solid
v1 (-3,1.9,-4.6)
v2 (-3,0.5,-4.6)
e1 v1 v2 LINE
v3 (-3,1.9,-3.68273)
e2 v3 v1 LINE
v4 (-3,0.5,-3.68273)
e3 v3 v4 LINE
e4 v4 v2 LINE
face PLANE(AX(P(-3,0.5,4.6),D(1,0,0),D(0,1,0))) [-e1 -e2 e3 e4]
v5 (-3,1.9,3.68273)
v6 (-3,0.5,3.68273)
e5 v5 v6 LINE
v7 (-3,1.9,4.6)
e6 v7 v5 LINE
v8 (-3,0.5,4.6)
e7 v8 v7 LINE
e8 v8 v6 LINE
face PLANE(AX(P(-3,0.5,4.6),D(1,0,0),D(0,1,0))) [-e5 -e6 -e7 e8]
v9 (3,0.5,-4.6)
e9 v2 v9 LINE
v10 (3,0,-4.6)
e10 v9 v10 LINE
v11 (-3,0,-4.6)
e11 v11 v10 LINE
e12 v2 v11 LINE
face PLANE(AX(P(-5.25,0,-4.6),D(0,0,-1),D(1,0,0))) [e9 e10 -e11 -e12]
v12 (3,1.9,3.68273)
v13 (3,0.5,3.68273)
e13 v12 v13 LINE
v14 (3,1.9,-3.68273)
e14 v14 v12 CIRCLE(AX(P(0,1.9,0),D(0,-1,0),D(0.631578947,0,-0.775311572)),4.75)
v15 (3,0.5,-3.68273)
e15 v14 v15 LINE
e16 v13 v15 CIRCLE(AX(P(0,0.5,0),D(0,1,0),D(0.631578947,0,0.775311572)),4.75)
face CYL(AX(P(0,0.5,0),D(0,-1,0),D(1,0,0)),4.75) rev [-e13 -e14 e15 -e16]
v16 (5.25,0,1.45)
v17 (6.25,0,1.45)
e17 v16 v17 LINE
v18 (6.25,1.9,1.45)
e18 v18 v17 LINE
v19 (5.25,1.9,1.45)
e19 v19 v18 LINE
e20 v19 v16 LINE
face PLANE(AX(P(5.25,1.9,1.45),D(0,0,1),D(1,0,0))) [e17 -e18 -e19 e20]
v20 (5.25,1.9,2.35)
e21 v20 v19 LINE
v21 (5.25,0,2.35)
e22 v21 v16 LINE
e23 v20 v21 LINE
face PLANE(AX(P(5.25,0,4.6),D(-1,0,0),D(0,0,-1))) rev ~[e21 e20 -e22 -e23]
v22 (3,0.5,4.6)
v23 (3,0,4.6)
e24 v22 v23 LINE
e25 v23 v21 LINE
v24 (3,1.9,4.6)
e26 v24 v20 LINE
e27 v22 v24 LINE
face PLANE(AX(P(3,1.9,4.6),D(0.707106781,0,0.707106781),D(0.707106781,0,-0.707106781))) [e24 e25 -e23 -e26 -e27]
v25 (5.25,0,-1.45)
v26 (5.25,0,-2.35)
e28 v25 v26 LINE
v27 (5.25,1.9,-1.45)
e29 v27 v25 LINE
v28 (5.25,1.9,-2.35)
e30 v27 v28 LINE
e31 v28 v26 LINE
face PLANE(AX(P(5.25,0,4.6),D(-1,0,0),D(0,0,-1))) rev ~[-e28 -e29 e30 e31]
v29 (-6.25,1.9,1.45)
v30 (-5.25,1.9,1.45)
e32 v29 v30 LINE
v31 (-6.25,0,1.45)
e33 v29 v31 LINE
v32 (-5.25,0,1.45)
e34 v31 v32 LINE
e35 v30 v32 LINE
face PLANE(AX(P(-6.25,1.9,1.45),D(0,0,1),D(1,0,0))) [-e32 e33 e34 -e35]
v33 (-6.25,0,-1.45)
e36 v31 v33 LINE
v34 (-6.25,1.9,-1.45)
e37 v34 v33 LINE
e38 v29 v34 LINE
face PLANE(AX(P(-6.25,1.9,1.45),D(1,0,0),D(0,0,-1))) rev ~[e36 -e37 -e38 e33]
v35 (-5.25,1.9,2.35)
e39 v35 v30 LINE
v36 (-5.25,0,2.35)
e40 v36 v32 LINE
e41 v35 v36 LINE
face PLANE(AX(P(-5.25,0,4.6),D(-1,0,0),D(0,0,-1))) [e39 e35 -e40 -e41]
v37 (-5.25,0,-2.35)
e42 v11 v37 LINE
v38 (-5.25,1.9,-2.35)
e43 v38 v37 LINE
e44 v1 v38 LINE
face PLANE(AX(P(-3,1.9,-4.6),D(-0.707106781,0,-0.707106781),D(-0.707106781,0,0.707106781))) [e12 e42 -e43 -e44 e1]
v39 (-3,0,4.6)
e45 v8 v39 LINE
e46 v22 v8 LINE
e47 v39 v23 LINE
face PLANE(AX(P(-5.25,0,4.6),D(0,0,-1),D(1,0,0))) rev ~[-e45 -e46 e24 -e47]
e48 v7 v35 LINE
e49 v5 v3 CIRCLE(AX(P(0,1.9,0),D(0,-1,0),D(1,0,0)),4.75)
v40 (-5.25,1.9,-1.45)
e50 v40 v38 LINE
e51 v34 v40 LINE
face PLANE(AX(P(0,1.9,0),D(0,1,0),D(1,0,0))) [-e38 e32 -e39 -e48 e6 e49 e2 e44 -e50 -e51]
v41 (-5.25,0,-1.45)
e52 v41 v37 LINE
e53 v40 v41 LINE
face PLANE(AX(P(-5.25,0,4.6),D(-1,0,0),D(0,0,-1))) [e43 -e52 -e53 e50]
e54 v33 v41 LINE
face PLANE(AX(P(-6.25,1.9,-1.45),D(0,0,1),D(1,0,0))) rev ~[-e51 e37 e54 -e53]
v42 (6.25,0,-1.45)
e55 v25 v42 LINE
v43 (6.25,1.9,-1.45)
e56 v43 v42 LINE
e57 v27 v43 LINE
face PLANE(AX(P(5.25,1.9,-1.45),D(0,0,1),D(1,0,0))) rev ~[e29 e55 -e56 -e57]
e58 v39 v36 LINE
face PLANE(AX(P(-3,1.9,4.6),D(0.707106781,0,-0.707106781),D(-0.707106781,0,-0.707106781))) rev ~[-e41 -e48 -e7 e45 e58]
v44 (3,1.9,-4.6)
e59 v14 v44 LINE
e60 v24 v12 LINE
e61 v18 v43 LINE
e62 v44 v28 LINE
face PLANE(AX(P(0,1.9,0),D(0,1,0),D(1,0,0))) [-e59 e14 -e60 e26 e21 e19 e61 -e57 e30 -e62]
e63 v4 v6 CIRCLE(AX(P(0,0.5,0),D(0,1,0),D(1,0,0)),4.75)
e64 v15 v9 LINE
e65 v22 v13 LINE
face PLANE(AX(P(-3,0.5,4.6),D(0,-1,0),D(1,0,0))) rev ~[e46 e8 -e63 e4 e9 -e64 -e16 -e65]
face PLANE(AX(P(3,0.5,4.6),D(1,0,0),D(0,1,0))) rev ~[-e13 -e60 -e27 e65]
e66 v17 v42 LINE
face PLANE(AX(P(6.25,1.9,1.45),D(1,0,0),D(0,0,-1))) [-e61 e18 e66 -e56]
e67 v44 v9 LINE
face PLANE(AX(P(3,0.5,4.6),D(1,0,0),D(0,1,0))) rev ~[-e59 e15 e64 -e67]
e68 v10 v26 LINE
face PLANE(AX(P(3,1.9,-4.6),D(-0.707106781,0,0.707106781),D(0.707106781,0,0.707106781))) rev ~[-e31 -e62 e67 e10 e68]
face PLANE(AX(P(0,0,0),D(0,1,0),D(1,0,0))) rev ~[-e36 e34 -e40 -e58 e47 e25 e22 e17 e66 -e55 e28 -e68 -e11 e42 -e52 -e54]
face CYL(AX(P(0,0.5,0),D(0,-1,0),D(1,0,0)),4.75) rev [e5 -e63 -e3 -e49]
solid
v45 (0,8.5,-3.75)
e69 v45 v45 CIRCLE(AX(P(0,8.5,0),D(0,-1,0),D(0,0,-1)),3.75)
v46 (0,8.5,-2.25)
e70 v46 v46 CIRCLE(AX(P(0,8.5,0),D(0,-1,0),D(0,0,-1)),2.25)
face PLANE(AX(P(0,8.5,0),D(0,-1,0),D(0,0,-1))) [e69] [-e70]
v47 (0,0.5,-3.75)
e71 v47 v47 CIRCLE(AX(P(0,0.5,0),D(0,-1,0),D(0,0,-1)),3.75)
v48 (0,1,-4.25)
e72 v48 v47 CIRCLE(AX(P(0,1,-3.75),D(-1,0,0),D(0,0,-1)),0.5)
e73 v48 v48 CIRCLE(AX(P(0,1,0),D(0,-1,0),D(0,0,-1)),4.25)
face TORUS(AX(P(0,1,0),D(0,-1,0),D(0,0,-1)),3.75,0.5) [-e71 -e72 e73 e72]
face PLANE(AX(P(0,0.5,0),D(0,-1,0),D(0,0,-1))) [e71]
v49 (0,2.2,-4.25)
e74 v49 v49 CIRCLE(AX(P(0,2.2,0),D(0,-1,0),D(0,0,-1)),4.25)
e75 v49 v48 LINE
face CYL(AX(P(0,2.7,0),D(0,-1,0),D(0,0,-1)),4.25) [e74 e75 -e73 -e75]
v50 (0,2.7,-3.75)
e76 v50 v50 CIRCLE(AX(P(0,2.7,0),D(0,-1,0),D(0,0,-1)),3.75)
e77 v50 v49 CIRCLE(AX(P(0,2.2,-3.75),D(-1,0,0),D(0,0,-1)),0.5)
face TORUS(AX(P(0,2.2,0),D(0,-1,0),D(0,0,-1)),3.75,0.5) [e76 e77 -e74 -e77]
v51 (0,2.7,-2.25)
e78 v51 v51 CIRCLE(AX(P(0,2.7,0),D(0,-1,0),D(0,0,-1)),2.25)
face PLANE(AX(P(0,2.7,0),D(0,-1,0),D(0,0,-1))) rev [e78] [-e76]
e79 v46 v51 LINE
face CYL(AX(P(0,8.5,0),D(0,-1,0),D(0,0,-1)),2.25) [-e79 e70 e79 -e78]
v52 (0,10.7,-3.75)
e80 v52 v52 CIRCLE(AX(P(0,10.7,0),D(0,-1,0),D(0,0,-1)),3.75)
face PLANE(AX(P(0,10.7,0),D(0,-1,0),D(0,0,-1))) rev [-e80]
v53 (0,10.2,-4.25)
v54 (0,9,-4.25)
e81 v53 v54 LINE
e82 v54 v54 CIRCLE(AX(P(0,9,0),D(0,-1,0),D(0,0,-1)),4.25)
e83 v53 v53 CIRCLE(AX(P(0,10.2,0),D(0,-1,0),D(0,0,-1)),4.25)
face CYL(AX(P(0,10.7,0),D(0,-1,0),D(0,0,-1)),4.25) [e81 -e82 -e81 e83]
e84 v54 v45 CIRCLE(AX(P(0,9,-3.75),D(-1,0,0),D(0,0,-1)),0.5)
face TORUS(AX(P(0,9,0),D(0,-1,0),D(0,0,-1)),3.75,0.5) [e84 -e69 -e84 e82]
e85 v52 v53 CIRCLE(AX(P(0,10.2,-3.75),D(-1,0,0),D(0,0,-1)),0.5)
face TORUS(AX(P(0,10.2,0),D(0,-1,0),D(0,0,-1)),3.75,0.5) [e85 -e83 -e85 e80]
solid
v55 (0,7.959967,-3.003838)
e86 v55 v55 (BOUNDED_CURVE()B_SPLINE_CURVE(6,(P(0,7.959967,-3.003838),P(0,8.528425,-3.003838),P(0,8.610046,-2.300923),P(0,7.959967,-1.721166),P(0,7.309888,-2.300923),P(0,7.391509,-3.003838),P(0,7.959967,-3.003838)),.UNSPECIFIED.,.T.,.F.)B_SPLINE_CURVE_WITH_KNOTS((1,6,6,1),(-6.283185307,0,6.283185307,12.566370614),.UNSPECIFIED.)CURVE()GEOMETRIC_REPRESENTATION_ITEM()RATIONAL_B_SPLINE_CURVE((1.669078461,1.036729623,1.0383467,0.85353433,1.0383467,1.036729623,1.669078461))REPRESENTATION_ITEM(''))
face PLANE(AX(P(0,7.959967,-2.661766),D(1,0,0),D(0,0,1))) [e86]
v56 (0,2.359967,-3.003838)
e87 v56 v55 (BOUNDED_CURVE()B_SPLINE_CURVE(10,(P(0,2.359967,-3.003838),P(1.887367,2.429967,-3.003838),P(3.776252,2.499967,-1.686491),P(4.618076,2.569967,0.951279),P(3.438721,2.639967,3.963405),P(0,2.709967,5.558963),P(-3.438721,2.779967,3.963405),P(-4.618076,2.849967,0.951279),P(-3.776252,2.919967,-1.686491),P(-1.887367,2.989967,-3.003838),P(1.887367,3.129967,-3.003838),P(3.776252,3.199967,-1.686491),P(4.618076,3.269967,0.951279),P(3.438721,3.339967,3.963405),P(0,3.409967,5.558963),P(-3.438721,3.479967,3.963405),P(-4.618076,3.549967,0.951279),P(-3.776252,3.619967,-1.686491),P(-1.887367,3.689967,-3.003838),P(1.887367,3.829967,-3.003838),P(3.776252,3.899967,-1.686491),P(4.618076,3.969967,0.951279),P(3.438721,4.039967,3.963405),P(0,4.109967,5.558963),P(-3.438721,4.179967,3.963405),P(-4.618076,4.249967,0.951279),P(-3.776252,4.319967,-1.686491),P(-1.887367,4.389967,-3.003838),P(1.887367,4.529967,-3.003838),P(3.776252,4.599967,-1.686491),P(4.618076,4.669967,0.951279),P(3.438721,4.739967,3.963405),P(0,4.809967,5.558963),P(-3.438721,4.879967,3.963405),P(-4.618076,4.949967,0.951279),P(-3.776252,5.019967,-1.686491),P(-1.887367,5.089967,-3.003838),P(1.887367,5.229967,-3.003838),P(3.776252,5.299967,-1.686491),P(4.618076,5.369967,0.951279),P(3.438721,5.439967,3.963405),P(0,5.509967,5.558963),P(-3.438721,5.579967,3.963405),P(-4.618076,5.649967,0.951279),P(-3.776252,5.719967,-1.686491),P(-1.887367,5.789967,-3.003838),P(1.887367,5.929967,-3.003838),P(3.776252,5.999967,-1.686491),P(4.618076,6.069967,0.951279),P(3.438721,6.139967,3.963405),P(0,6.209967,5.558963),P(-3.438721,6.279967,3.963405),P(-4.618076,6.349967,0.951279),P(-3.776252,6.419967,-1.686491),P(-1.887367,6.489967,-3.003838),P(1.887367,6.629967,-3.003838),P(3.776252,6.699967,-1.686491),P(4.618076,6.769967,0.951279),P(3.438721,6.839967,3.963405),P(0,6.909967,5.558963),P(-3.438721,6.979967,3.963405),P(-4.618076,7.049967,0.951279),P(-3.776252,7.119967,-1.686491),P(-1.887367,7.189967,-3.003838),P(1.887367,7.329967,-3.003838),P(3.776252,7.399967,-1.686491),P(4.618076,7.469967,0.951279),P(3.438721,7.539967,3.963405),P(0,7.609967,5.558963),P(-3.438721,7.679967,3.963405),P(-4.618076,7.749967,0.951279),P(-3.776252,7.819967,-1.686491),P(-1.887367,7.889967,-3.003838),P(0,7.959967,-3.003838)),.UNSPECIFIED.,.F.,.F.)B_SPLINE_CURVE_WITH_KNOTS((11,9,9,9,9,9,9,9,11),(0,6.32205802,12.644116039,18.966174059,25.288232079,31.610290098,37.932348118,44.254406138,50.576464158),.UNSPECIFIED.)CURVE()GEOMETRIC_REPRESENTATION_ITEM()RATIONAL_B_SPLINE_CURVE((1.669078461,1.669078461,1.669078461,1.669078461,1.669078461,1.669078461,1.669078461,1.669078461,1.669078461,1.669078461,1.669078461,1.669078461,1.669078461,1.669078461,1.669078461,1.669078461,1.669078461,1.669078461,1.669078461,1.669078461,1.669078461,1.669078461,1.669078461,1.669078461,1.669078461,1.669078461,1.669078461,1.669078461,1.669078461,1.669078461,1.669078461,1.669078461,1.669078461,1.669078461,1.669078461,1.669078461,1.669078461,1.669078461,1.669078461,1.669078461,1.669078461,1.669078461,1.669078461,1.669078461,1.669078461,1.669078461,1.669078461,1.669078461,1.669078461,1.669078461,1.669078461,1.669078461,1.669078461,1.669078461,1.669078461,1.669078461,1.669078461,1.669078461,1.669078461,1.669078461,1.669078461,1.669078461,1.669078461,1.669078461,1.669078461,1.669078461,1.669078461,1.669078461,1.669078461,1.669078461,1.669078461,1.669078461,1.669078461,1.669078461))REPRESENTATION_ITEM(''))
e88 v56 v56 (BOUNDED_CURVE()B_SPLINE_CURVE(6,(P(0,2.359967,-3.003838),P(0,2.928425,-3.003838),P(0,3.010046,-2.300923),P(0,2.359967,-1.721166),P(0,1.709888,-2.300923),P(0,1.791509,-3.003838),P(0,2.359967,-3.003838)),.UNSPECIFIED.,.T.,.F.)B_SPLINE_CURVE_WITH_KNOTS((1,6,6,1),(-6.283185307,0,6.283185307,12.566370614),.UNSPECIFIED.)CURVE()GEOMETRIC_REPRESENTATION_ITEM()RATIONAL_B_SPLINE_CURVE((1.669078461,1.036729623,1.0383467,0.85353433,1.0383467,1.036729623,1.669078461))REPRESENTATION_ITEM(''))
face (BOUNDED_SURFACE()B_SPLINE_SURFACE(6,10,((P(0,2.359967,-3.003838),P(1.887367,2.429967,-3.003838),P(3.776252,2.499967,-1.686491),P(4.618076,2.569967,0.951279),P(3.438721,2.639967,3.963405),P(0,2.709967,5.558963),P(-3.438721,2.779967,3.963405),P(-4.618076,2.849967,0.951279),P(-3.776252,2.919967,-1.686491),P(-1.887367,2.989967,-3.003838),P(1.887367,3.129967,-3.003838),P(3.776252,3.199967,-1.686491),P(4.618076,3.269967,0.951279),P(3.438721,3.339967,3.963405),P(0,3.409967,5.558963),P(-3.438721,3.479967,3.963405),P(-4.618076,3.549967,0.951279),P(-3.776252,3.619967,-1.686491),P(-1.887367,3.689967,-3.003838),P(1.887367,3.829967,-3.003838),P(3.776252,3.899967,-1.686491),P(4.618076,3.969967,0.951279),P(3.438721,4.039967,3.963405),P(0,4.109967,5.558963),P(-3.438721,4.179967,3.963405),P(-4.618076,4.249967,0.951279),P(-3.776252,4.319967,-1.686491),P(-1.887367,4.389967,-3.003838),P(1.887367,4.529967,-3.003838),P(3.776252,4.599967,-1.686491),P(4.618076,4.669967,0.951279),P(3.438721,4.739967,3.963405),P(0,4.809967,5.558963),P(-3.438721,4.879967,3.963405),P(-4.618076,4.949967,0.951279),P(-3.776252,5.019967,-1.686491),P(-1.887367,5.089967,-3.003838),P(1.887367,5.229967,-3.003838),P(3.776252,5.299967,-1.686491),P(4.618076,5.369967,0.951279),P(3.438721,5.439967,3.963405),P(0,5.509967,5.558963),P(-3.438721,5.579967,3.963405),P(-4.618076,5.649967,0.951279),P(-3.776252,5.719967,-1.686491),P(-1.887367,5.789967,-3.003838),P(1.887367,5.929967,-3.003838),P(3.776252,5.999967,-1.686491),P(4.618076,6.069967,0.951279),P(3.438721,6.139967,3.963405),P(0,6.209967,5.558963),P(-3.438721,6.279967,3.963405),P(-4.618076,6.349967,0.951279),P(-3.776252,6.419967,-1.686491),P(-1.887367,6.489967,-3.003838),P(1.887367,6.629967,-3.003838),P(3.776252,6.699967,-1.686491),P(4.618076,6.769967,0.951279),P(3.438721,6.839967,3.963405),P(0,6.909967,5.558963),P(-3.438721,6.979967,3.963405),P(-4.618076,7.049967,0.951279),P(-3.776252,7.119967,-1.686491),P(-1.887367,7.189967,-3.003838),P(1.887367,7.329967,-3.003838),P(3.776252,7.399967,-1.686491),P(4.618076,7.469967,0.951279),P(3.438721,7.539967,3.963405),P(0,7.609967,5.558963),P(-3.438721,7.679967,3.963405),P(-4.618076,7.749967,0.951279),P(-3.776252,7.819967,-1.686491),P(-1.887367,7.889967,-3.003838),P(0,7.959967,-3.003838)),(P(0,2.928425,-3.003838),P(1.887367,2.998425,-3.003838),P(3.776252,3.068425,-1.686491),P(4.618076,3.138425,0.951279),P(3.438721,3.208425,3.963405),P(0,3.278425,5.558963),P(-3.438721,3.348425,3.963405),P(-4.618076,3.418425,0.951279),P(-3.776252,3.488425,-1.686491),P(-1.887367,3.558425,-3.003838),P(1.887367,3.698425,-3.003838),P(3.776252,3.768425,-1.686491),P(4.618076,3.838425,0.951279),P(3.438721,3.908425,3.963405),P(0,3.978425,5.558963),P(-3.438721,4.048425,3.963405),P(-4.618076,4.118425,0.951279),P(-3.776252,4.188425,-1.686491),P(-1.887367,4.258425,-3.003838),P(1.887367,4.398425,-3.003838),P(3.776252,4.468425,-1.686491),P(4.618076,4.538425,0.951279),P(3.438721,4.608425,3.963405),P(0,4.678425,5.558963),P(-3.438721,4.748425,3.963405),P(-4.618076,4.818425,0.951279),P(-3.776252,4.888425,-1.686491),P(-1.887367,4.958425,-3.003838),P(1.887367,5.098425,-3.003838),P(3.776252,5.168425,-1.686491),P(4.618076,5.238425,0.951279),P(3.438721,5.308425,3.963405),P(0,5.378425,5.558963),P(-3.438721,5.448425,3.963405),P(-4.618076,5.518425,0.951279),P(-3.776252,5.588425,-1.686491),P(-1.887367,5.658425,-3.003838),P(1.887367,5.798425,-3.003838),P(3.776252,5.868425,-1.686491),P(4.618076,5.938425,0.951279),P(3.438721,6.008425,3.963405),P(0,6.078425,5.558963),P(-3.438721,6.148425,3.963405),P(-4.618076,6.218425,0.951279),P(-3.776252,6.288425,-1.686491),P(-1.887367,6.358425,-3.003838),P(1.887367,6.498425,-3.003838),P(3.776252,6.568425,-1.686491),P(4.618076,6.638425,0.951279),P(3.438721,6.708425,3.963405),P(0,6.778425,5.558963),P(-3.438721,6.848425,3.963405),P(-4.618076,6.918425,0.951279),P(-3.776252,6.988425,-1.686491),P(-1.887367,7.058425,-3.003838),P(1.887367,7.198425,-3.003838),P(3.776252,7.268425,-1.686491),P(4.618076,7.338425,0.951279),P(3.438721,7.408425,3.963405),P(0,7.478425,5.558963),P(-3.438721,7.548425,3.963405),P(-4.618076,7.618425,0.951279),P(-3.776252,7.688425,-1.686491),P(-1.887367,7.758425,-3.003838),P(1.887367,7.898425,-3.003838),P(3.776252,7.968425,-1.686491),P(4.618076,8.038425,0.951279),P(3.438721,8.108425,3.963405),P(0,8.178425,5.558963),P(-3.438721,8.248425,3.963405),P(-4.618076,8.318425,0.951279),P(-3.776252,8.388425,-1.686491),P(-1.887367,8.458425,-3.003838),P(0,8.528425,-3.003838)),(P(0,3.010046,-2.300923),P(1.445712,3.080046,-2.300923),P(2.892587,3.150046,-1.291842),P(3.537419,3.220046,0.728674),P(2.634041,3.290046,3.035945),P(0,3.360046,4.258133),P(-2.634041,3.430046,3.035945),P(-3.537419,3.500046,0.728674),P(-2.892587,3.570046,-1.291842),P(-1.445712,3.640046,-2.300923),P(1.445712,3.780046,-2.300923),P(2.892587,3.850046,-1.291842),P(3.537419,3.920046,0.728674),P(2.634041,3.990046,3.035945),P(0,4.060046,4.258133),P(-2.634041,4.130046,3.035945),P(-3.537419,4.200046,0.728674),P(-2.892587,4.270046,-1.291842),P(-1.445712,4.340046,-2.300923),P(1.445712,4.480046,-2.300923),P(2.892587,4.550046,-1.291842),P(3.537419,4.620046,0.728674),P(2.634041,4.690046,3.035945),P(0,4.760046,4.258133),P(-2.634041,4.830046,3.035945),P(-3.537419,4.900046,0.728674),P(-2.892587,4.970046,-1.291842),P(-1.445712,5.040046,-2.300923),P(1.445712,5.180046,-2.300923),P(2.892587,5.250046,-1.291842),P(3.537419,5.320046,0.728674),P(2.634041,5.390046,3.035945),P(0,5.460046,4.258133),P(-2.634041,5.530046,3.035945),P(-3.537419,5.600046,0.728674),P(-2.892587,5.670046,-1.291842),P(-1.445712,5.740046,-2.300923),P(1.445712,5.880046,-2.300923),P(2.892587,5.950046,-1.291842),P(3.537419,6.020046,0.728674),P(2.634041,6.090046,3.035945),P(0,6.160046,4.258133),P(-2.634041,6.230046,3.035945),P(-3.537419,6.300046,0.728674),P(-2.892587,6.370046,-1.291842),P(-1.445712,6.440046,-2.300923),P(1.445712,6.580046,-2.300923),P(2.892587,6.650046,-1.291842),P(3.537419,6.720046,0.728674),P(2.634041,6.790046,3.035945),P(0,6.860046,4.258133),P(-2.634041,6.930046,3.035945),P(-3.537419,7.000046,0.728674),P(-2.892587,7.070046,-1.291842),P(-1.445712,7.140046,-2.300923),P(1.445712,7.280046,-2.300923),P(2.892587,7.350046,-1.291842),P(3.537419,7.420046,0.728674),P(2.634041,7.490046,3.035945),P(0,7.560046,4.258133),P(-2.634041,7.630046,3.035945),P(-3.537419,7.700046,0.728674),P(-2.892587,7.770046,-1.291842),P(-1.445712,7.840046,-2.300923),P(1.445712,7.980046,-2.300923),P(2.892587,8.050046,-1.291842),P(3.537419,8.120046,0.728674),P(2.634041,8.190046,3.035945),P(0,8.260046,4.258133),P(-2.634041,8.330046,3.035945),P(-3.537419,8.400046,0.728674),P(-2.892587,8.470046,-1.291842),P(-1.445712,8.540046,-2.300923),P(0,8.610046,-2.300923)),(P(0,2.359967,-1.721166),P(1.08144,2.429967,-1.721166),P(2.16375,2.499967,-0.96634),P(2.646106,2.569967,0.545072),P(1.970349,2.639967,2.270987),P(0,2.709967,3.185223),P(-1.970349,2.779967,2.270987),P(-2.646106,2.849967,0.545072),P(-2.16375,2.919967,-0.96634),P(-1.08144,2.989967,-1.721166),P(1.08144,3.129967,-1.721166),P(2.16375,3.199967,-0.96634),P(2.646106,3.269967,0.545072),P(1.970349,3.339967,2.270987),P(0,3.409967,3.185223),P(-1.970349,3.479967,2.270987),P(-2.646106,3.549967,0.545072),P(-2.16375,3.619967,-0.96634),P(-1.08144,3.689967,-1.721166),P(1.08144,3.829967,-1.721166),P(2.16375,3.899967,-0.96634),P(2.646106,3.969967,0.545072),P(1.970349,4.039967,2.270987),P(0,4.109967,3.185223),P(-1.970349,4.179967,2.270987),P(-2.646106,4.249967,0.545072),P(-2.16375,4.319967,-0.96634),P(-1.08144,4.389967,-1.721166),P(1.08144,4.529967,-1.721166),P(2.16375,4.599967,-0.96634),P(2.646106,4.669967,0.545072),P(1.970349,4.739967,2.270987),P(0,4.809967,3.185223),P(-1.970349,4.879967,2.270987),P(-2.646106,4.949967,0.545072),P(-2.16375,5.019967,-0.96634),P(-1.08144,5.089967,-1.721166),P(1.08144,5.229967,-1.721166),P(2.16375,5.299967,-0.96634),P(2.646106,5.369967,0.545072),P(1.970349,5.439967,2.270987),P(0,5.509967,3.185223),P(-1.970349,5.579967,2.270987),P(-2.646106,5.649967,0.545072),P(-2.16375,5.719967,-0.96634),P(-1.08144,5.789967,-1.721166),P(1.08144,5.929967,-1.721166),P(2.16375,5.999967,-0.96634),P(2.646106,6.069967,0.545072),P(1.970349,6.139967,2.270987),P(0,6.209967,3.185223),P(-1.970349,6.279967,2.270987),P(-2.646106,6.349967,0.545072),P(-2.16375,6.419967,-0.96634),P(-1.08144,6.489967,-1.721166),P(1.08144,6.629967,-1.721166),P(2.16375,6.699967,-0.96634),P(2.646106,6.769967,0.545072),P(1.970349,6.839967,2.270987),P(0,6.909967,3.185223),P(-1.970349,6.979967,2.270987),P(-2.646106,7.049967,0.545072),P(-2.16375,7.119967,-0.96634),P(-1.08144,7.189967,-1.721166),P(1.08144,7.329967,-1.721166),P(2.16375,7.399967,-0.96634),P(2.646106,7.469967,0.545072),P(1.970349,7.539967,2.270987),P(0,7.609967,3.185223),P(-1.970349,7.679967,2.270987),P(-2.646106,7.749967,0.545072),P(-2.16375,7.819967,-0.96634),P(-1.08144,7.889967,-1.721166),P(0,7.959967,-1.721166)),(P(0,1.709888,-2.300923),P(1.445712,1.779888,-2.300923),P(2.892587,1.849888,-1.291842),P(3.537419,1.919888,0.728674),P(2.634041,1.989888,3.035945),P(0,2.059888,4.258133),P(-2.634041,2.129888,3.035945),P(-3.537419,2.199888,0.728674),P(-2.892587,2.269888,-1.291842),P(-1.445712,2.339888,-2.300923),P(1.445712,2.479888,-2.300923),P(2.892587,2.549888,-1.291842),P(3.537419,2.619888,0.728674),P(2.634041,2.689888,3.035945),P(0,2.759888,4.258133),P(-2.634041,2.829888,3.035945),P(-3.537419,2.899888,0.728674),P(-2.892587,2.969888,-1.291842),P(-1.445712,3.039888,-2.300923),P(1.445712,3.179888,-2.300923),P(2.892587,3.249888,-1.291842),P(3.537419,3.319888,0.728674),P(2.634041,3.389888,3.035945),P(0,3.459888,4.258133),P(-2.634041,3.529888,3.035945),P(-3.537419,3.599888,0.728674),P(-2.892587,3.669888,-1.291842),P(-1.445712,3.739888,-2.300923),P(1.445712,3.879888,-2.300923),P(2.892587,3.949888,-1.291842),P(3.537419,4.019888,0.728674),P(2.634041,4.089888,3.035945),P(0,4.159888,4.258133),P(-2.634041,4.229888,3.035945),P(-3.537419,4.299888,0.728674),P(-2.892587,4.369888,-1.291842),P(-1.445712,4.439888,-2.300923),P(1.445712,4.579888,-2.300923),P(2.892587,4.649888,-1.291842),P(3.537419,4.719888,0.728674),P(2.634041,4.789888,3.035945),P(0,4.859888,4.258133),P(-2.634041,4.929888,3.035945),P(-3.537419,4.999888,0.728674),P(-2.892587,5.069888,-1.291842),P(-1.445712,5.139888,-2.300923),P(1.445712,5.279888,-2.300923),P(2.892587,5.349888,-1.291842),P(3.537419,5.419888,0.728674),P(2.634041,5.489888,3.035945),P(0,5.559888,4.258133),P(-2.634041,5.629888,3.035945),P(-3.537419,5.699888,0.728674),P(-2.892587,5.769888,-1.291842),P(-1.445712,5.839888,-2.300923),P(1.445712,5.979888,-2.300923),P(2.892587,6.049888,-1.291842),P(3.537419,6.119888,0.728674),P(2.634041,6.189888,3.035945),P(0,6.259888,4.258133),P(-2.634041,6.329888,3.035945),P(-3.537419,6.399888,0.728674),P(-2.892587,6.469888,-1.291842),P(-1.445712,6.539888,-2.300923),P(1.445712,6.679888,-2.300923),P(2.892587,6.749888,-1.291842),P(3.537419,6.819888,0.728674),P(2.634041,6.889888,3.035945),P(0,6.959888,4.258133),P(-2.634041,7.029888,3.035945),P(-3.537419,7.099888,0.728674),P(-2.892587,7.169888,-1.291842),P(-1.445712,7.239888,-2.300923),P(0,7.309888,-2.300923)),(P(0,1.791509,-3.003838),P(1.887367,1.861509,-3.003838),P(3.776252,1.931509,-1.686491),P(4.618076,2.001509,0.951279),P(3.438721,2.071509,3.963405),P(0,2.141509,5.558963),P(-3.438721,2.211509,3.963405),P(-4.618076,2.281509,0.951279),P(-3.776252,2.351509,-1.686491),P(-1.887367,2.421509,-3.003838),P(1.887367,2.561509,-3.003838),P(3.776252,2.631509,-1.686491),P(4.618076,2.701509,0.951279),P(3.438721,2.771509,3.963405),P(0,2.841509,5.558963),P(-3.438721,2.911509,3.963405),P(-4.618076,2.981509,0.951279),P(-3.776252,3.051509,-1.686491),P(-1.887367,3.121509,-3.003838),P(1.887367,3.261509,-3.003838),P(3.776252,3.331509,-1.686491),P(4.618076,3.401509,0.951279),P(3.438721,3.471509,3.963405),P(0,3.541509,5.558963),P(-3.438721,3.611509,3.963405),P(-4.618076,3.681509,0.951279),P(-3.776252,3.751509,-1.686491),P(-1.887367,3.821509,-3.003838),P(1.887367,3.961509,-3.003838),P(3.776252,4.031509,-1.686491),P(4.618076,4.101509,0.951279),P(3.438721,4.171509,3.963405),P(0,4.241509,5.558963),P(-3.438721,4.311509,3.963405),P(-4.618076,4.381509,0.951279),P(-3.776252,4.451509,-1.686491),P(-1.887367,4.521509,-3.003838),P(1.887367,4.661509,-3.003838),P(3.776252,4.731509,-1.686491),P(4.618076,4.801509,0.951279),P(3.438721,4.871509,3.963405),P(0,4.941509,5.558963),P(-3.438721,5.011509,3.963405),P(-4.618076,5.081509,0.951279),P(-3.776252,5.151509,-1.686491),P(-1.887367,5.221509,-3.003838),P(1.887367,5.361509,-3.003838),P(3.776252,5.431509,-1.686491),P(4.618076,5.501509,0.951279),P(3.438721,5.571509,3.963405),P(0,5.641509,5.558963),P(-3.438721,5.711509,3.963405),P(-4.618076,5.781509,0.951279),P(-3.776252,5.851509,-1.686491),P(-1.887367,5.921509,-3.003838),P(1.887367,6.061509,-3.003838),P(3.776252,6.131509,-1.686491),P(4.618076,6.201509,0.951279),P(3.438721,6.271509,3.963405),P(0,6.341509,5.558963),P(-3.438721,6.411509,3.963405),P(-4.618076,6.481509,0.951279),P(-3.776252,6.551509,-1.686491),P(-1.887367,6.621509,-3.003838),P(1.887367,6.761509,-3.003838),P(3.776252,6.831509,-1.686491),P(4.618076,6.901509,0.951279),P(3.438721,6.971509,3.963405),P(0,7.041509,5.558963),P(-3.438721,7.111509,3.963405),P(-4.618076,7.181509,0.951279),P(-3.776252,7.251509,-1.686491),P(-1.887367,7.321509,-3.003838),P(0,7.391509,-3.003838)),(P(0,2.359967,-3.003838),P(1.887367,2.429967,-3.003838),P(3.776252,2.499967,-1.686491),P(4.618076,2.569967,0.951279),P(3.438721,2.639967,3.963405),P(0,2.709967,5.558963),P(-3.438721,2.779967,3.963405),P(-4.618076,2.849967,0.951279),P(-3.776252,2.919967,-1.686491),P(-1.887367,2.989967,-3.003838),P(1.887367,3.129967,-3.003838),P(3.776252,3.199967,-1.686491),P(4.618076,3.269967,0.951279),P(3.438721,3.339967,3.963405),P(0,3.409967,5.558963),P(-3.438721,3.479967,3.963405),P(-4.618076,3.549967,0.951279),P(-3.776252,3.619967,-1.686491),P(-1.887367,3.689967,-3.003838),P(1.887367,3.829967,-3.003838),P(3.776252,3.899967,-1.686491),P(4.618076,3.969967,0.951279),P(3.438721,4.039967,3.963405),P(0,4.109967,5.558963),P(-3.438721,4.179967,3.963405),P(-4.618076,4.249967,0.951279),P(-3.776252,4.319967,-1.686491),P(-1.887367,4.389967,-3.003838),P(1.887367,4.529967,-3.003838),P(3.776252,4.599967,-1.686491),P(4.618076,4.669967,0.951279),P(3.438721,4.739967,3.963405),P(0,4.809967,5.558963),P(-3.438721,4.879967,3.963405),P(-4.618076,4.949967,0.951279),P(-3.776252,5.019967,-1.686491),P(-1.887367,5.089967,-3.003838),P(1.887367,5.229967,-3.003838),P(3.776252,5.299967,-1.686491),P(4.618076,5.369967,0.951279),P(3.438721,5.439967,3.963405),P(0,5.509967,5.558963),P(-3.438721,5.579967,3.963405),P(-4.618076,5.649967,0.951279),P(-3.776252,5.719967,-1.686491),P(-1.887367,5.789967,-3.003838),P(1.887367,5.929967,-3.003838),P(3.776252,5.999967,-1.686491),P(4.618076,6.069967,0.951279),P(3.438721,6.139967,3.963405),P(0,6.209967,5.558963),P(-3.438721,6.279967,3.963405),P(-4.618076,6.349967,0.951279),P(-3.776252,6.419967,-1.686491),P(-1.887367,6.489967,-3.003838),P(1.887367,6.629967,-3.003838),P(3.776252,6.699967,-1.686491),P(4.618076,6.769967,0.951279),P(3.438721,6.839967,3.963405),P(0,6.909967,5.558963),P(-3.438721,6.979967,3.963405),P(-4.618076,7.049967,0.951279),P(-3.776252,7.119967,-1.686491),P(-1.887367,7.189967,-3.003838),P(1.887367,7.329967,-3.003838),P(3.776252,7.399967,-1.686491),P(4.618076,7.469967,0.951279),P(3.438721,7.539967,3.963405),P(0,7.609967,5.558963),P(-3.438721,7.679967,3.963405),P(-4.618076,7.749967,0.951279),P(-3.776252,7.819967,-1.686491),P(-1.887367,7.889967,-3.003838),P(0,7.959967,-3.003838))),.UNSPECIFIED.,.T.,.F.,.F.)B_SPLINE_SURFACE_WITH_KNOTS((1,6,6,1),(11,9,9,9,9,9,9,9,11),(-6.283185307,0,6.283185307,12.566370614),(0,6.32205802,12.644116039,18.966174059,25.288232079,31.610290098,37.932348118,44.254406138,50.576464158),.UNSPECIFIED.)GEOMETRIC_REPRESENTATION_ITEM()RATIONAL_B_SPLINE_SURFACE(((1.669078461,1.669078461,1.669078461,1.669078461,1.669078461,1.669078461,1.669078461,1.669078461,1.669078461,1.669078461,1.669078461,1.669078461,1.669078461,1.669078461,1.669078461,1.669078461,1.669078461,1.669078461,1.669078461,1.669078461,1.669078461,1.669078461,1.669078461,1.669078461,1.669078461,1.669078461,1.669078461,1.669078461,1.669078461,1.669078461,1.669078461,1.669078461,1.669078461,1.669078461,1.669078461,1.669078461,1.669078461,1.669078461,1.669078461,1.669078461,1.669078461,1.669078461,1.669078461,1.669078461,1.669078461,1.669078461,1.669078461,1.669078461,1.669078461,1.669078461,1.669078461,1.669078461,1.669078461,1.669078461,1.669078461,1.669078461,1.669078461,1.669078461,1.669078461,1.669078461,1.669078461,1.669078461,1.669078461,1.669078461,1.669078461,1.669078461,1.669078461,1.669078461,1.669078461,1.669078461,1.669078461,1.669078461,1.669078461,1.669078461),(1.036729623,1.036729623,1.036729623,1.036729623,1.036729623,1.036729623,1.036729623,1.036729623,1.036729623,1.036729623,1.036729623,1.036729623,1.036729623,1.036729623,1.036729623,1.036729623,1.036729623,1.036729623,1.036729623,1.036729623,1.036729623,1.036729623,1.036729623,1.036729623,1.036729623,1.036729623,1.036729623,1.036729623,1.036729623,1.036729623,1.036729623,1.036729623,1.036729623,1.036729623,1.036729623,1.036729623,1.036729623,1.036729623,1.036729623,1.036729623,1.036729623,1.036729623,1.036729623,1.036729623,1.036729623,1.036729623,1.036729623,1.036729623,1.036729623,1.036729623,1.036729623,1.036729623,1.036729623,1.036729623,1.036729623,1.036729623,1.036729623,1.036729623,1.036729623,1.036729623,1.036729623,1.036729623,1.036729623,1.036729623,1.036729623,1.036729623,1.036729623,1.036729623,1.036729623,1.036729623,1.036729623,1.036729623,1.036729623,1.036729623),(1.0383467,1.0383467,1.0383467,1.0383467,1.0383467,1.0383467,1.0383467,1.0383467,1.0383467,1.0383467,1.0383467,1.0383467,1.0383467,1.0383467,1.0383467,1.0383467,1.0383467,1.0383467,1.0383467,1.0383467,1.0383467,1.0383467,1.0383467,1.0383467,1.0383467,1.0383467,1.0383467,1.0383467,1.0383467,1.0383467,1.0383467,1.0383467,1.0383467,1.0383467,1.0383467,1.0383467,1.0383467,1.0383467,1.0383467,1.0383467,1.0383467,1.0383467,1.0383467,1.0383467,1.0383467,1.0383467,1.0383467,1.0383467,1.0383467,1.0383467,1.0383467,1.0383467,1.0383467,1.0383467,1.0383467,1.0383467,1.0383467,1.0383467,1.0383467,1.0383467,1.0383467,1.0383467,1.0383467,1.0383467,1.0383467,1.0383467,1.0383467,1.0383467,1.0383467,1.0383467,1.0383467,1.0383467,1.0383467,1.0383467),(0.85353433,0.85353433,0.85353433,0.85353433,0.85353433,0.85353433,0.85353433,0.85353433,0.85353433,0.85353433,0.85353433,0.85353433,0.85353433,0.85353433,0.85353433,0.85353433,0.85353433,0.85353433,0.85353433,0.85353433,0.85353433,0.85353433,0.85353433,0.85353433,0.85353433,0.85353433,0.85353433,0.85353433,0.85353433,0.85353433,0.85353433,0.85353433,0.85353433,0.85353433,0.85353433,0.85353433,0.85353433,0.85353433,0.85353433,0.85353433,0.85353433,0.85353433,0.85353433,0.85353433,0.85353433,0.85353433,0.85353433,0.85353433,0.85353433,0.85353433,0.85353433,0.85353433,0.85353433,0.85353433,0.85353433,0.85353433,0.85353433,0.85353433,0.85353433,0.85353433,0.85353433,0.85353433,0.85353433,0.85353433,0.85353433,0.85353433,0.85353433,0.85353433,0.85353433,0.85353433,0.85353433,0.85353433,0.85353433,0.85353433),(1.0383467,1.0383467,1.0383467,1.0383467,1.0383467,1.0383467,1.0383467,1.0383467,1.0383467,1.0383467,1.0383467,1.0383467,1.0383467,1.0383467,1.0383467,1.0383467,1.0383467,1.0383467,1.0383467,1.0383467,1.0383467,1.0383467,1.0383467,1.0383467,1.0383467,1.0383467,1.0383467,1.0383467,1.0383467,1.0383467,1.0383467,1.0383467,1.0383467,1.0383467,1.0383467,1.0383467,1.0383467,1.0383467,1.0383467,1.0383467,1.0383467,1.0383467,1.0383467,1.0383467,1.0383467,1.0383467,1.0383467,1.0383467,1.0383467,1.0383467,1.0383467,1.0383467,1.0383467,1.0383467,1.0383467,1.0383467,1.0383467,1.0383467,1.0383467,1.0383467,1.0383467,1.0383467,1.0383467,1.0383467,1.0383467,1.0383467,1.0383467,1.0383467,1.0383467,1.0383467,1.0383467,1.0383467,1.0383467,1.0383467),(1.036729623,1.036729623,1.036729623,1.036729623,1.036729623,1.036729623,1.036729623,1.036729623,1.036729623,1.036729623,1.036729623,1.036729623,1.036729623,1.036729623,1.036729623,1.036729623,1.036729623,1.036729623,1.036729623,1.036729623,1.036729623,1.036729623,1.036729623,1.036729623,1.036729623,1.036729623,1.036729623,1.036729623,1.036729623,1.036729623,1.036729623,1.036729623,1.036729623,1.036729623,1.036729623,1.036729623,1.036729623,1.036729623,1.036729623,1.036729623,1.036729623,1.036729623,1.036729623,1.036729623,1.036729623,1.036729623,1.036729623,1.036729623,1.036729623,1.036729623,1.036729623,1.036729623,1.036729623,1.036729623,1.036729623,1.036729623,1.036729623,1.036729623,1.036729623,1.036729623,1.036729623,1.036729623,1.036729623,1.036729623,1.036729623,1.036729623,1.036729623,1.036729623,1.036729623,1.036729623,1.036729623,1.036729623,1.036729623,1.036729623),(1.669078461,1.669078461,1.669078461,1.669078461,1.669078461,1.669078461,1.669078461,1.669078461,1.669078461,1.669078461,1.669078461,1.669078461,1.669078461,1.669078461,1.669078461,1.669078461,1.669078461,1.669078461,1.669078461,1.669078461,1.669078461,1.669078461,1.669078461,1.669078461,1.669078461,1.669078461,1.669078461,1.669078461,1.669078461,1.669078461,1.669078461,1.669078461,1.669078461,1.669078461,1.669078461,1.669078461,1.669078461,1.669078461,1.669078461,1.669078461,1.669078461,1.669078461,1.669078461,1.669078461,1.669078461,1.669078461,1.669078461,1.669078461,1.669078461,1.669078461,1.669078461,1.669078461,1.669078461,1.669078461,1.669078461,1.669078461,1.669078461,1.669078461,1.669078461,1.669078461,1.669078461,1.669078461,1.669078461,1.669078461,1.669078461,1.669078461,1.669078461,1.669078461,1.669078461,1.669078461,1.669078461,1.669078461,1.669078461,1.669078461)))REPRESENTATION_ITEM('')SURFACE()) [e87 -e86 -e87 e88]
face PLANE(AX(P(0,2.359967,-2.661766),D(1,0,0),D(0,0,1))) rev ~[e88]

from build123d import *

# Parameters (mm, degrees)
CROQUIS1_W            = 10.5
CROQUIS1_H            = 9.2
EXTRUIR1_DEPTH        = 1.9
CROQUIS2_W            = 6
CROQUIS2_H            = 1.4
CORTAR_EXTRUIR1_DEPTH = 13.9
CROQUIS3_W            = 1
CROQUIS3_H            = 2.9
EXTRUIR2_DEPTH        = 1.9
CORTAR_EXTRUIR2_DEPTH = 4.9
CROQUIS5_R            = 4.75
CORTAR_EXTRUIR4_DEPTH = 4.9
BARRER1_PITCH         = 0.7
BARRER1_HEIGHT        = 5.6
BARRER1_RADIUS        = 2.75900428
BARRER1_START_ANGLE   = -180
CROQUIS8_R            = 0.342126569
REDONDEO1_R           = 0.5


with BuildPart() as part:
    # Croquis1 → Extruir1 (new body)
    with BuildSketch(Plane(origin=(0, 0, 0), x_dir=(1, 0, 0), z_dir=(0, 1, 0))):
        Rectangle(CROQUIS1_W, CROQUIS1_H)
    extrude(amount=EXTRUIR1_DEPTH)

    # Croquis2 → Cortar-Extruir1 (cut)
    with BuildSketch(Plane.XY.offset(4.6)):
        with Locations((0, 1.2)):
            Rectangle(CROQUIS2_W, CROQUIS2_H)
    extrude(amount=-CORTAR_EXTRUIR1_DEPTH, mode=Mode.SUBTRACT)

    # Croquis3 → Extruir2 (add)
    with BuildSketch(Plane(origin=(0, 1.9, 0), x_dir=(1, 0, 0), z_dir=(0, 1, 0))):
        with Locations((5.75, 0)):
            Rectangle(CROQUIS3_W, CROQUIS3_H)
        with Locations((-5.75, 0)):
            Rectangle(CROQUIS3_W, CROQUIS3_H)
    extrude(amount=-EXTRUIR2_DEPTH)

    # Croquis4 → Cortar-Extruir2 (cut)
    with BuildSketch(Plane(origin=(0, 1.9, 0), x_dir=(1, 0, 0), z_dir=(0, 1, 0))):
        Polygon((-3, 4.6), (-5.25, 2.35), (-6.161497734, 2.35), (-6.161497734, 5.064836166), (-3, 5.064836166), align=None)
        Polygon((3, 5.064836166), (3, 4.6), (5.25, 2.35), (6.161497734, 2.35), (6.161497734, 5.064836166), align=None)
        Polygon((3, -4.6), (5.25, -2.35), (6.161497734, -2.35), (6.161497734, -5.064836166), (3, -5.064836166), align=None)
        Polygon((-3, -5.064836166), (-3, -4.6), (-5.25, -2.35), (-6.161497734, -2.35), (-6.161497734, -5.064836166), align=None)
    extrude(amount=-CORTAR_EXTRUIR2_DEPTH, mode=Mode.SUBTRACT)

    # Croquis5 → Cortar-Extruir4 (cut)
    with BuildSketch(Plane(origin=(0, 0.5, 0), x_dir=(1, 0, 0), z_dir=(0, 1, 0))):
        Circle(CROQUIS5_R)
    extrude(amount=CORTAR_EXTRUIR4_DEPTH, mode=Mode.SUBTRACT)


with BuildPart() as body_2:
    # Croquis6 → Revolución1 (revolve)
    with BuildSketch(Plane(origin=(0, 0, 0), x_dir=(0, 0, -1), z_dir=(1, 0, 0))):
        Polygon((0, 0.5), (0, 10.7), (4.25, 10.7), (4.25, 8.5), (2.25, 8.5), (2.25, 2.7), (4.25, 2.7), (4.25, 0.5), align=None)
    revolve(axis=Axis((0, 0.5, 0), (0, -1, 0)))

    # Redondeo1
    redondeo1_edges = [body_2.edges().sort_by_distance(p)[0] for p in [
        (0, 10.7, 4.25),
        (0, 8.5, 4.25),
        (0, 2.7, 4.25),
        (0, 0.5, 4.25),
    ]]
    fillet(redondeo1_edges, radius=REDONDEO1_R)


with BuildPart() as body_3:
    # Barrer1: sweep along a helix
    with BuildLine() as barrer1_path:
        add(Helix(BARRER1_PITCH, BARRER1_HEIGHT, BARRER1_RADIUS, center=(0, 2.7, 0), direction=(0, 1, 0), lefthand=True, mode=Mode.PRIVATE).rotate(Axis((0, 2.7, 0), (0, 1, 0)), BARRER1_START_ANGLE))
    # Croquis8 → Barrer1 (sweep)
    with BuildSketch(Plane(origin=(0, 0, 0), x_dir=(0, 0, -1), z_dir=(1, 0, 0))):
        with Locations((2.661711681, 3.05996706)):
            Circle(CROQUIS8_R)
    sweep(path=barrer1_path.line, is_frenet=True)


solid = Compound([part.part, body_2.part, body_3.part])
